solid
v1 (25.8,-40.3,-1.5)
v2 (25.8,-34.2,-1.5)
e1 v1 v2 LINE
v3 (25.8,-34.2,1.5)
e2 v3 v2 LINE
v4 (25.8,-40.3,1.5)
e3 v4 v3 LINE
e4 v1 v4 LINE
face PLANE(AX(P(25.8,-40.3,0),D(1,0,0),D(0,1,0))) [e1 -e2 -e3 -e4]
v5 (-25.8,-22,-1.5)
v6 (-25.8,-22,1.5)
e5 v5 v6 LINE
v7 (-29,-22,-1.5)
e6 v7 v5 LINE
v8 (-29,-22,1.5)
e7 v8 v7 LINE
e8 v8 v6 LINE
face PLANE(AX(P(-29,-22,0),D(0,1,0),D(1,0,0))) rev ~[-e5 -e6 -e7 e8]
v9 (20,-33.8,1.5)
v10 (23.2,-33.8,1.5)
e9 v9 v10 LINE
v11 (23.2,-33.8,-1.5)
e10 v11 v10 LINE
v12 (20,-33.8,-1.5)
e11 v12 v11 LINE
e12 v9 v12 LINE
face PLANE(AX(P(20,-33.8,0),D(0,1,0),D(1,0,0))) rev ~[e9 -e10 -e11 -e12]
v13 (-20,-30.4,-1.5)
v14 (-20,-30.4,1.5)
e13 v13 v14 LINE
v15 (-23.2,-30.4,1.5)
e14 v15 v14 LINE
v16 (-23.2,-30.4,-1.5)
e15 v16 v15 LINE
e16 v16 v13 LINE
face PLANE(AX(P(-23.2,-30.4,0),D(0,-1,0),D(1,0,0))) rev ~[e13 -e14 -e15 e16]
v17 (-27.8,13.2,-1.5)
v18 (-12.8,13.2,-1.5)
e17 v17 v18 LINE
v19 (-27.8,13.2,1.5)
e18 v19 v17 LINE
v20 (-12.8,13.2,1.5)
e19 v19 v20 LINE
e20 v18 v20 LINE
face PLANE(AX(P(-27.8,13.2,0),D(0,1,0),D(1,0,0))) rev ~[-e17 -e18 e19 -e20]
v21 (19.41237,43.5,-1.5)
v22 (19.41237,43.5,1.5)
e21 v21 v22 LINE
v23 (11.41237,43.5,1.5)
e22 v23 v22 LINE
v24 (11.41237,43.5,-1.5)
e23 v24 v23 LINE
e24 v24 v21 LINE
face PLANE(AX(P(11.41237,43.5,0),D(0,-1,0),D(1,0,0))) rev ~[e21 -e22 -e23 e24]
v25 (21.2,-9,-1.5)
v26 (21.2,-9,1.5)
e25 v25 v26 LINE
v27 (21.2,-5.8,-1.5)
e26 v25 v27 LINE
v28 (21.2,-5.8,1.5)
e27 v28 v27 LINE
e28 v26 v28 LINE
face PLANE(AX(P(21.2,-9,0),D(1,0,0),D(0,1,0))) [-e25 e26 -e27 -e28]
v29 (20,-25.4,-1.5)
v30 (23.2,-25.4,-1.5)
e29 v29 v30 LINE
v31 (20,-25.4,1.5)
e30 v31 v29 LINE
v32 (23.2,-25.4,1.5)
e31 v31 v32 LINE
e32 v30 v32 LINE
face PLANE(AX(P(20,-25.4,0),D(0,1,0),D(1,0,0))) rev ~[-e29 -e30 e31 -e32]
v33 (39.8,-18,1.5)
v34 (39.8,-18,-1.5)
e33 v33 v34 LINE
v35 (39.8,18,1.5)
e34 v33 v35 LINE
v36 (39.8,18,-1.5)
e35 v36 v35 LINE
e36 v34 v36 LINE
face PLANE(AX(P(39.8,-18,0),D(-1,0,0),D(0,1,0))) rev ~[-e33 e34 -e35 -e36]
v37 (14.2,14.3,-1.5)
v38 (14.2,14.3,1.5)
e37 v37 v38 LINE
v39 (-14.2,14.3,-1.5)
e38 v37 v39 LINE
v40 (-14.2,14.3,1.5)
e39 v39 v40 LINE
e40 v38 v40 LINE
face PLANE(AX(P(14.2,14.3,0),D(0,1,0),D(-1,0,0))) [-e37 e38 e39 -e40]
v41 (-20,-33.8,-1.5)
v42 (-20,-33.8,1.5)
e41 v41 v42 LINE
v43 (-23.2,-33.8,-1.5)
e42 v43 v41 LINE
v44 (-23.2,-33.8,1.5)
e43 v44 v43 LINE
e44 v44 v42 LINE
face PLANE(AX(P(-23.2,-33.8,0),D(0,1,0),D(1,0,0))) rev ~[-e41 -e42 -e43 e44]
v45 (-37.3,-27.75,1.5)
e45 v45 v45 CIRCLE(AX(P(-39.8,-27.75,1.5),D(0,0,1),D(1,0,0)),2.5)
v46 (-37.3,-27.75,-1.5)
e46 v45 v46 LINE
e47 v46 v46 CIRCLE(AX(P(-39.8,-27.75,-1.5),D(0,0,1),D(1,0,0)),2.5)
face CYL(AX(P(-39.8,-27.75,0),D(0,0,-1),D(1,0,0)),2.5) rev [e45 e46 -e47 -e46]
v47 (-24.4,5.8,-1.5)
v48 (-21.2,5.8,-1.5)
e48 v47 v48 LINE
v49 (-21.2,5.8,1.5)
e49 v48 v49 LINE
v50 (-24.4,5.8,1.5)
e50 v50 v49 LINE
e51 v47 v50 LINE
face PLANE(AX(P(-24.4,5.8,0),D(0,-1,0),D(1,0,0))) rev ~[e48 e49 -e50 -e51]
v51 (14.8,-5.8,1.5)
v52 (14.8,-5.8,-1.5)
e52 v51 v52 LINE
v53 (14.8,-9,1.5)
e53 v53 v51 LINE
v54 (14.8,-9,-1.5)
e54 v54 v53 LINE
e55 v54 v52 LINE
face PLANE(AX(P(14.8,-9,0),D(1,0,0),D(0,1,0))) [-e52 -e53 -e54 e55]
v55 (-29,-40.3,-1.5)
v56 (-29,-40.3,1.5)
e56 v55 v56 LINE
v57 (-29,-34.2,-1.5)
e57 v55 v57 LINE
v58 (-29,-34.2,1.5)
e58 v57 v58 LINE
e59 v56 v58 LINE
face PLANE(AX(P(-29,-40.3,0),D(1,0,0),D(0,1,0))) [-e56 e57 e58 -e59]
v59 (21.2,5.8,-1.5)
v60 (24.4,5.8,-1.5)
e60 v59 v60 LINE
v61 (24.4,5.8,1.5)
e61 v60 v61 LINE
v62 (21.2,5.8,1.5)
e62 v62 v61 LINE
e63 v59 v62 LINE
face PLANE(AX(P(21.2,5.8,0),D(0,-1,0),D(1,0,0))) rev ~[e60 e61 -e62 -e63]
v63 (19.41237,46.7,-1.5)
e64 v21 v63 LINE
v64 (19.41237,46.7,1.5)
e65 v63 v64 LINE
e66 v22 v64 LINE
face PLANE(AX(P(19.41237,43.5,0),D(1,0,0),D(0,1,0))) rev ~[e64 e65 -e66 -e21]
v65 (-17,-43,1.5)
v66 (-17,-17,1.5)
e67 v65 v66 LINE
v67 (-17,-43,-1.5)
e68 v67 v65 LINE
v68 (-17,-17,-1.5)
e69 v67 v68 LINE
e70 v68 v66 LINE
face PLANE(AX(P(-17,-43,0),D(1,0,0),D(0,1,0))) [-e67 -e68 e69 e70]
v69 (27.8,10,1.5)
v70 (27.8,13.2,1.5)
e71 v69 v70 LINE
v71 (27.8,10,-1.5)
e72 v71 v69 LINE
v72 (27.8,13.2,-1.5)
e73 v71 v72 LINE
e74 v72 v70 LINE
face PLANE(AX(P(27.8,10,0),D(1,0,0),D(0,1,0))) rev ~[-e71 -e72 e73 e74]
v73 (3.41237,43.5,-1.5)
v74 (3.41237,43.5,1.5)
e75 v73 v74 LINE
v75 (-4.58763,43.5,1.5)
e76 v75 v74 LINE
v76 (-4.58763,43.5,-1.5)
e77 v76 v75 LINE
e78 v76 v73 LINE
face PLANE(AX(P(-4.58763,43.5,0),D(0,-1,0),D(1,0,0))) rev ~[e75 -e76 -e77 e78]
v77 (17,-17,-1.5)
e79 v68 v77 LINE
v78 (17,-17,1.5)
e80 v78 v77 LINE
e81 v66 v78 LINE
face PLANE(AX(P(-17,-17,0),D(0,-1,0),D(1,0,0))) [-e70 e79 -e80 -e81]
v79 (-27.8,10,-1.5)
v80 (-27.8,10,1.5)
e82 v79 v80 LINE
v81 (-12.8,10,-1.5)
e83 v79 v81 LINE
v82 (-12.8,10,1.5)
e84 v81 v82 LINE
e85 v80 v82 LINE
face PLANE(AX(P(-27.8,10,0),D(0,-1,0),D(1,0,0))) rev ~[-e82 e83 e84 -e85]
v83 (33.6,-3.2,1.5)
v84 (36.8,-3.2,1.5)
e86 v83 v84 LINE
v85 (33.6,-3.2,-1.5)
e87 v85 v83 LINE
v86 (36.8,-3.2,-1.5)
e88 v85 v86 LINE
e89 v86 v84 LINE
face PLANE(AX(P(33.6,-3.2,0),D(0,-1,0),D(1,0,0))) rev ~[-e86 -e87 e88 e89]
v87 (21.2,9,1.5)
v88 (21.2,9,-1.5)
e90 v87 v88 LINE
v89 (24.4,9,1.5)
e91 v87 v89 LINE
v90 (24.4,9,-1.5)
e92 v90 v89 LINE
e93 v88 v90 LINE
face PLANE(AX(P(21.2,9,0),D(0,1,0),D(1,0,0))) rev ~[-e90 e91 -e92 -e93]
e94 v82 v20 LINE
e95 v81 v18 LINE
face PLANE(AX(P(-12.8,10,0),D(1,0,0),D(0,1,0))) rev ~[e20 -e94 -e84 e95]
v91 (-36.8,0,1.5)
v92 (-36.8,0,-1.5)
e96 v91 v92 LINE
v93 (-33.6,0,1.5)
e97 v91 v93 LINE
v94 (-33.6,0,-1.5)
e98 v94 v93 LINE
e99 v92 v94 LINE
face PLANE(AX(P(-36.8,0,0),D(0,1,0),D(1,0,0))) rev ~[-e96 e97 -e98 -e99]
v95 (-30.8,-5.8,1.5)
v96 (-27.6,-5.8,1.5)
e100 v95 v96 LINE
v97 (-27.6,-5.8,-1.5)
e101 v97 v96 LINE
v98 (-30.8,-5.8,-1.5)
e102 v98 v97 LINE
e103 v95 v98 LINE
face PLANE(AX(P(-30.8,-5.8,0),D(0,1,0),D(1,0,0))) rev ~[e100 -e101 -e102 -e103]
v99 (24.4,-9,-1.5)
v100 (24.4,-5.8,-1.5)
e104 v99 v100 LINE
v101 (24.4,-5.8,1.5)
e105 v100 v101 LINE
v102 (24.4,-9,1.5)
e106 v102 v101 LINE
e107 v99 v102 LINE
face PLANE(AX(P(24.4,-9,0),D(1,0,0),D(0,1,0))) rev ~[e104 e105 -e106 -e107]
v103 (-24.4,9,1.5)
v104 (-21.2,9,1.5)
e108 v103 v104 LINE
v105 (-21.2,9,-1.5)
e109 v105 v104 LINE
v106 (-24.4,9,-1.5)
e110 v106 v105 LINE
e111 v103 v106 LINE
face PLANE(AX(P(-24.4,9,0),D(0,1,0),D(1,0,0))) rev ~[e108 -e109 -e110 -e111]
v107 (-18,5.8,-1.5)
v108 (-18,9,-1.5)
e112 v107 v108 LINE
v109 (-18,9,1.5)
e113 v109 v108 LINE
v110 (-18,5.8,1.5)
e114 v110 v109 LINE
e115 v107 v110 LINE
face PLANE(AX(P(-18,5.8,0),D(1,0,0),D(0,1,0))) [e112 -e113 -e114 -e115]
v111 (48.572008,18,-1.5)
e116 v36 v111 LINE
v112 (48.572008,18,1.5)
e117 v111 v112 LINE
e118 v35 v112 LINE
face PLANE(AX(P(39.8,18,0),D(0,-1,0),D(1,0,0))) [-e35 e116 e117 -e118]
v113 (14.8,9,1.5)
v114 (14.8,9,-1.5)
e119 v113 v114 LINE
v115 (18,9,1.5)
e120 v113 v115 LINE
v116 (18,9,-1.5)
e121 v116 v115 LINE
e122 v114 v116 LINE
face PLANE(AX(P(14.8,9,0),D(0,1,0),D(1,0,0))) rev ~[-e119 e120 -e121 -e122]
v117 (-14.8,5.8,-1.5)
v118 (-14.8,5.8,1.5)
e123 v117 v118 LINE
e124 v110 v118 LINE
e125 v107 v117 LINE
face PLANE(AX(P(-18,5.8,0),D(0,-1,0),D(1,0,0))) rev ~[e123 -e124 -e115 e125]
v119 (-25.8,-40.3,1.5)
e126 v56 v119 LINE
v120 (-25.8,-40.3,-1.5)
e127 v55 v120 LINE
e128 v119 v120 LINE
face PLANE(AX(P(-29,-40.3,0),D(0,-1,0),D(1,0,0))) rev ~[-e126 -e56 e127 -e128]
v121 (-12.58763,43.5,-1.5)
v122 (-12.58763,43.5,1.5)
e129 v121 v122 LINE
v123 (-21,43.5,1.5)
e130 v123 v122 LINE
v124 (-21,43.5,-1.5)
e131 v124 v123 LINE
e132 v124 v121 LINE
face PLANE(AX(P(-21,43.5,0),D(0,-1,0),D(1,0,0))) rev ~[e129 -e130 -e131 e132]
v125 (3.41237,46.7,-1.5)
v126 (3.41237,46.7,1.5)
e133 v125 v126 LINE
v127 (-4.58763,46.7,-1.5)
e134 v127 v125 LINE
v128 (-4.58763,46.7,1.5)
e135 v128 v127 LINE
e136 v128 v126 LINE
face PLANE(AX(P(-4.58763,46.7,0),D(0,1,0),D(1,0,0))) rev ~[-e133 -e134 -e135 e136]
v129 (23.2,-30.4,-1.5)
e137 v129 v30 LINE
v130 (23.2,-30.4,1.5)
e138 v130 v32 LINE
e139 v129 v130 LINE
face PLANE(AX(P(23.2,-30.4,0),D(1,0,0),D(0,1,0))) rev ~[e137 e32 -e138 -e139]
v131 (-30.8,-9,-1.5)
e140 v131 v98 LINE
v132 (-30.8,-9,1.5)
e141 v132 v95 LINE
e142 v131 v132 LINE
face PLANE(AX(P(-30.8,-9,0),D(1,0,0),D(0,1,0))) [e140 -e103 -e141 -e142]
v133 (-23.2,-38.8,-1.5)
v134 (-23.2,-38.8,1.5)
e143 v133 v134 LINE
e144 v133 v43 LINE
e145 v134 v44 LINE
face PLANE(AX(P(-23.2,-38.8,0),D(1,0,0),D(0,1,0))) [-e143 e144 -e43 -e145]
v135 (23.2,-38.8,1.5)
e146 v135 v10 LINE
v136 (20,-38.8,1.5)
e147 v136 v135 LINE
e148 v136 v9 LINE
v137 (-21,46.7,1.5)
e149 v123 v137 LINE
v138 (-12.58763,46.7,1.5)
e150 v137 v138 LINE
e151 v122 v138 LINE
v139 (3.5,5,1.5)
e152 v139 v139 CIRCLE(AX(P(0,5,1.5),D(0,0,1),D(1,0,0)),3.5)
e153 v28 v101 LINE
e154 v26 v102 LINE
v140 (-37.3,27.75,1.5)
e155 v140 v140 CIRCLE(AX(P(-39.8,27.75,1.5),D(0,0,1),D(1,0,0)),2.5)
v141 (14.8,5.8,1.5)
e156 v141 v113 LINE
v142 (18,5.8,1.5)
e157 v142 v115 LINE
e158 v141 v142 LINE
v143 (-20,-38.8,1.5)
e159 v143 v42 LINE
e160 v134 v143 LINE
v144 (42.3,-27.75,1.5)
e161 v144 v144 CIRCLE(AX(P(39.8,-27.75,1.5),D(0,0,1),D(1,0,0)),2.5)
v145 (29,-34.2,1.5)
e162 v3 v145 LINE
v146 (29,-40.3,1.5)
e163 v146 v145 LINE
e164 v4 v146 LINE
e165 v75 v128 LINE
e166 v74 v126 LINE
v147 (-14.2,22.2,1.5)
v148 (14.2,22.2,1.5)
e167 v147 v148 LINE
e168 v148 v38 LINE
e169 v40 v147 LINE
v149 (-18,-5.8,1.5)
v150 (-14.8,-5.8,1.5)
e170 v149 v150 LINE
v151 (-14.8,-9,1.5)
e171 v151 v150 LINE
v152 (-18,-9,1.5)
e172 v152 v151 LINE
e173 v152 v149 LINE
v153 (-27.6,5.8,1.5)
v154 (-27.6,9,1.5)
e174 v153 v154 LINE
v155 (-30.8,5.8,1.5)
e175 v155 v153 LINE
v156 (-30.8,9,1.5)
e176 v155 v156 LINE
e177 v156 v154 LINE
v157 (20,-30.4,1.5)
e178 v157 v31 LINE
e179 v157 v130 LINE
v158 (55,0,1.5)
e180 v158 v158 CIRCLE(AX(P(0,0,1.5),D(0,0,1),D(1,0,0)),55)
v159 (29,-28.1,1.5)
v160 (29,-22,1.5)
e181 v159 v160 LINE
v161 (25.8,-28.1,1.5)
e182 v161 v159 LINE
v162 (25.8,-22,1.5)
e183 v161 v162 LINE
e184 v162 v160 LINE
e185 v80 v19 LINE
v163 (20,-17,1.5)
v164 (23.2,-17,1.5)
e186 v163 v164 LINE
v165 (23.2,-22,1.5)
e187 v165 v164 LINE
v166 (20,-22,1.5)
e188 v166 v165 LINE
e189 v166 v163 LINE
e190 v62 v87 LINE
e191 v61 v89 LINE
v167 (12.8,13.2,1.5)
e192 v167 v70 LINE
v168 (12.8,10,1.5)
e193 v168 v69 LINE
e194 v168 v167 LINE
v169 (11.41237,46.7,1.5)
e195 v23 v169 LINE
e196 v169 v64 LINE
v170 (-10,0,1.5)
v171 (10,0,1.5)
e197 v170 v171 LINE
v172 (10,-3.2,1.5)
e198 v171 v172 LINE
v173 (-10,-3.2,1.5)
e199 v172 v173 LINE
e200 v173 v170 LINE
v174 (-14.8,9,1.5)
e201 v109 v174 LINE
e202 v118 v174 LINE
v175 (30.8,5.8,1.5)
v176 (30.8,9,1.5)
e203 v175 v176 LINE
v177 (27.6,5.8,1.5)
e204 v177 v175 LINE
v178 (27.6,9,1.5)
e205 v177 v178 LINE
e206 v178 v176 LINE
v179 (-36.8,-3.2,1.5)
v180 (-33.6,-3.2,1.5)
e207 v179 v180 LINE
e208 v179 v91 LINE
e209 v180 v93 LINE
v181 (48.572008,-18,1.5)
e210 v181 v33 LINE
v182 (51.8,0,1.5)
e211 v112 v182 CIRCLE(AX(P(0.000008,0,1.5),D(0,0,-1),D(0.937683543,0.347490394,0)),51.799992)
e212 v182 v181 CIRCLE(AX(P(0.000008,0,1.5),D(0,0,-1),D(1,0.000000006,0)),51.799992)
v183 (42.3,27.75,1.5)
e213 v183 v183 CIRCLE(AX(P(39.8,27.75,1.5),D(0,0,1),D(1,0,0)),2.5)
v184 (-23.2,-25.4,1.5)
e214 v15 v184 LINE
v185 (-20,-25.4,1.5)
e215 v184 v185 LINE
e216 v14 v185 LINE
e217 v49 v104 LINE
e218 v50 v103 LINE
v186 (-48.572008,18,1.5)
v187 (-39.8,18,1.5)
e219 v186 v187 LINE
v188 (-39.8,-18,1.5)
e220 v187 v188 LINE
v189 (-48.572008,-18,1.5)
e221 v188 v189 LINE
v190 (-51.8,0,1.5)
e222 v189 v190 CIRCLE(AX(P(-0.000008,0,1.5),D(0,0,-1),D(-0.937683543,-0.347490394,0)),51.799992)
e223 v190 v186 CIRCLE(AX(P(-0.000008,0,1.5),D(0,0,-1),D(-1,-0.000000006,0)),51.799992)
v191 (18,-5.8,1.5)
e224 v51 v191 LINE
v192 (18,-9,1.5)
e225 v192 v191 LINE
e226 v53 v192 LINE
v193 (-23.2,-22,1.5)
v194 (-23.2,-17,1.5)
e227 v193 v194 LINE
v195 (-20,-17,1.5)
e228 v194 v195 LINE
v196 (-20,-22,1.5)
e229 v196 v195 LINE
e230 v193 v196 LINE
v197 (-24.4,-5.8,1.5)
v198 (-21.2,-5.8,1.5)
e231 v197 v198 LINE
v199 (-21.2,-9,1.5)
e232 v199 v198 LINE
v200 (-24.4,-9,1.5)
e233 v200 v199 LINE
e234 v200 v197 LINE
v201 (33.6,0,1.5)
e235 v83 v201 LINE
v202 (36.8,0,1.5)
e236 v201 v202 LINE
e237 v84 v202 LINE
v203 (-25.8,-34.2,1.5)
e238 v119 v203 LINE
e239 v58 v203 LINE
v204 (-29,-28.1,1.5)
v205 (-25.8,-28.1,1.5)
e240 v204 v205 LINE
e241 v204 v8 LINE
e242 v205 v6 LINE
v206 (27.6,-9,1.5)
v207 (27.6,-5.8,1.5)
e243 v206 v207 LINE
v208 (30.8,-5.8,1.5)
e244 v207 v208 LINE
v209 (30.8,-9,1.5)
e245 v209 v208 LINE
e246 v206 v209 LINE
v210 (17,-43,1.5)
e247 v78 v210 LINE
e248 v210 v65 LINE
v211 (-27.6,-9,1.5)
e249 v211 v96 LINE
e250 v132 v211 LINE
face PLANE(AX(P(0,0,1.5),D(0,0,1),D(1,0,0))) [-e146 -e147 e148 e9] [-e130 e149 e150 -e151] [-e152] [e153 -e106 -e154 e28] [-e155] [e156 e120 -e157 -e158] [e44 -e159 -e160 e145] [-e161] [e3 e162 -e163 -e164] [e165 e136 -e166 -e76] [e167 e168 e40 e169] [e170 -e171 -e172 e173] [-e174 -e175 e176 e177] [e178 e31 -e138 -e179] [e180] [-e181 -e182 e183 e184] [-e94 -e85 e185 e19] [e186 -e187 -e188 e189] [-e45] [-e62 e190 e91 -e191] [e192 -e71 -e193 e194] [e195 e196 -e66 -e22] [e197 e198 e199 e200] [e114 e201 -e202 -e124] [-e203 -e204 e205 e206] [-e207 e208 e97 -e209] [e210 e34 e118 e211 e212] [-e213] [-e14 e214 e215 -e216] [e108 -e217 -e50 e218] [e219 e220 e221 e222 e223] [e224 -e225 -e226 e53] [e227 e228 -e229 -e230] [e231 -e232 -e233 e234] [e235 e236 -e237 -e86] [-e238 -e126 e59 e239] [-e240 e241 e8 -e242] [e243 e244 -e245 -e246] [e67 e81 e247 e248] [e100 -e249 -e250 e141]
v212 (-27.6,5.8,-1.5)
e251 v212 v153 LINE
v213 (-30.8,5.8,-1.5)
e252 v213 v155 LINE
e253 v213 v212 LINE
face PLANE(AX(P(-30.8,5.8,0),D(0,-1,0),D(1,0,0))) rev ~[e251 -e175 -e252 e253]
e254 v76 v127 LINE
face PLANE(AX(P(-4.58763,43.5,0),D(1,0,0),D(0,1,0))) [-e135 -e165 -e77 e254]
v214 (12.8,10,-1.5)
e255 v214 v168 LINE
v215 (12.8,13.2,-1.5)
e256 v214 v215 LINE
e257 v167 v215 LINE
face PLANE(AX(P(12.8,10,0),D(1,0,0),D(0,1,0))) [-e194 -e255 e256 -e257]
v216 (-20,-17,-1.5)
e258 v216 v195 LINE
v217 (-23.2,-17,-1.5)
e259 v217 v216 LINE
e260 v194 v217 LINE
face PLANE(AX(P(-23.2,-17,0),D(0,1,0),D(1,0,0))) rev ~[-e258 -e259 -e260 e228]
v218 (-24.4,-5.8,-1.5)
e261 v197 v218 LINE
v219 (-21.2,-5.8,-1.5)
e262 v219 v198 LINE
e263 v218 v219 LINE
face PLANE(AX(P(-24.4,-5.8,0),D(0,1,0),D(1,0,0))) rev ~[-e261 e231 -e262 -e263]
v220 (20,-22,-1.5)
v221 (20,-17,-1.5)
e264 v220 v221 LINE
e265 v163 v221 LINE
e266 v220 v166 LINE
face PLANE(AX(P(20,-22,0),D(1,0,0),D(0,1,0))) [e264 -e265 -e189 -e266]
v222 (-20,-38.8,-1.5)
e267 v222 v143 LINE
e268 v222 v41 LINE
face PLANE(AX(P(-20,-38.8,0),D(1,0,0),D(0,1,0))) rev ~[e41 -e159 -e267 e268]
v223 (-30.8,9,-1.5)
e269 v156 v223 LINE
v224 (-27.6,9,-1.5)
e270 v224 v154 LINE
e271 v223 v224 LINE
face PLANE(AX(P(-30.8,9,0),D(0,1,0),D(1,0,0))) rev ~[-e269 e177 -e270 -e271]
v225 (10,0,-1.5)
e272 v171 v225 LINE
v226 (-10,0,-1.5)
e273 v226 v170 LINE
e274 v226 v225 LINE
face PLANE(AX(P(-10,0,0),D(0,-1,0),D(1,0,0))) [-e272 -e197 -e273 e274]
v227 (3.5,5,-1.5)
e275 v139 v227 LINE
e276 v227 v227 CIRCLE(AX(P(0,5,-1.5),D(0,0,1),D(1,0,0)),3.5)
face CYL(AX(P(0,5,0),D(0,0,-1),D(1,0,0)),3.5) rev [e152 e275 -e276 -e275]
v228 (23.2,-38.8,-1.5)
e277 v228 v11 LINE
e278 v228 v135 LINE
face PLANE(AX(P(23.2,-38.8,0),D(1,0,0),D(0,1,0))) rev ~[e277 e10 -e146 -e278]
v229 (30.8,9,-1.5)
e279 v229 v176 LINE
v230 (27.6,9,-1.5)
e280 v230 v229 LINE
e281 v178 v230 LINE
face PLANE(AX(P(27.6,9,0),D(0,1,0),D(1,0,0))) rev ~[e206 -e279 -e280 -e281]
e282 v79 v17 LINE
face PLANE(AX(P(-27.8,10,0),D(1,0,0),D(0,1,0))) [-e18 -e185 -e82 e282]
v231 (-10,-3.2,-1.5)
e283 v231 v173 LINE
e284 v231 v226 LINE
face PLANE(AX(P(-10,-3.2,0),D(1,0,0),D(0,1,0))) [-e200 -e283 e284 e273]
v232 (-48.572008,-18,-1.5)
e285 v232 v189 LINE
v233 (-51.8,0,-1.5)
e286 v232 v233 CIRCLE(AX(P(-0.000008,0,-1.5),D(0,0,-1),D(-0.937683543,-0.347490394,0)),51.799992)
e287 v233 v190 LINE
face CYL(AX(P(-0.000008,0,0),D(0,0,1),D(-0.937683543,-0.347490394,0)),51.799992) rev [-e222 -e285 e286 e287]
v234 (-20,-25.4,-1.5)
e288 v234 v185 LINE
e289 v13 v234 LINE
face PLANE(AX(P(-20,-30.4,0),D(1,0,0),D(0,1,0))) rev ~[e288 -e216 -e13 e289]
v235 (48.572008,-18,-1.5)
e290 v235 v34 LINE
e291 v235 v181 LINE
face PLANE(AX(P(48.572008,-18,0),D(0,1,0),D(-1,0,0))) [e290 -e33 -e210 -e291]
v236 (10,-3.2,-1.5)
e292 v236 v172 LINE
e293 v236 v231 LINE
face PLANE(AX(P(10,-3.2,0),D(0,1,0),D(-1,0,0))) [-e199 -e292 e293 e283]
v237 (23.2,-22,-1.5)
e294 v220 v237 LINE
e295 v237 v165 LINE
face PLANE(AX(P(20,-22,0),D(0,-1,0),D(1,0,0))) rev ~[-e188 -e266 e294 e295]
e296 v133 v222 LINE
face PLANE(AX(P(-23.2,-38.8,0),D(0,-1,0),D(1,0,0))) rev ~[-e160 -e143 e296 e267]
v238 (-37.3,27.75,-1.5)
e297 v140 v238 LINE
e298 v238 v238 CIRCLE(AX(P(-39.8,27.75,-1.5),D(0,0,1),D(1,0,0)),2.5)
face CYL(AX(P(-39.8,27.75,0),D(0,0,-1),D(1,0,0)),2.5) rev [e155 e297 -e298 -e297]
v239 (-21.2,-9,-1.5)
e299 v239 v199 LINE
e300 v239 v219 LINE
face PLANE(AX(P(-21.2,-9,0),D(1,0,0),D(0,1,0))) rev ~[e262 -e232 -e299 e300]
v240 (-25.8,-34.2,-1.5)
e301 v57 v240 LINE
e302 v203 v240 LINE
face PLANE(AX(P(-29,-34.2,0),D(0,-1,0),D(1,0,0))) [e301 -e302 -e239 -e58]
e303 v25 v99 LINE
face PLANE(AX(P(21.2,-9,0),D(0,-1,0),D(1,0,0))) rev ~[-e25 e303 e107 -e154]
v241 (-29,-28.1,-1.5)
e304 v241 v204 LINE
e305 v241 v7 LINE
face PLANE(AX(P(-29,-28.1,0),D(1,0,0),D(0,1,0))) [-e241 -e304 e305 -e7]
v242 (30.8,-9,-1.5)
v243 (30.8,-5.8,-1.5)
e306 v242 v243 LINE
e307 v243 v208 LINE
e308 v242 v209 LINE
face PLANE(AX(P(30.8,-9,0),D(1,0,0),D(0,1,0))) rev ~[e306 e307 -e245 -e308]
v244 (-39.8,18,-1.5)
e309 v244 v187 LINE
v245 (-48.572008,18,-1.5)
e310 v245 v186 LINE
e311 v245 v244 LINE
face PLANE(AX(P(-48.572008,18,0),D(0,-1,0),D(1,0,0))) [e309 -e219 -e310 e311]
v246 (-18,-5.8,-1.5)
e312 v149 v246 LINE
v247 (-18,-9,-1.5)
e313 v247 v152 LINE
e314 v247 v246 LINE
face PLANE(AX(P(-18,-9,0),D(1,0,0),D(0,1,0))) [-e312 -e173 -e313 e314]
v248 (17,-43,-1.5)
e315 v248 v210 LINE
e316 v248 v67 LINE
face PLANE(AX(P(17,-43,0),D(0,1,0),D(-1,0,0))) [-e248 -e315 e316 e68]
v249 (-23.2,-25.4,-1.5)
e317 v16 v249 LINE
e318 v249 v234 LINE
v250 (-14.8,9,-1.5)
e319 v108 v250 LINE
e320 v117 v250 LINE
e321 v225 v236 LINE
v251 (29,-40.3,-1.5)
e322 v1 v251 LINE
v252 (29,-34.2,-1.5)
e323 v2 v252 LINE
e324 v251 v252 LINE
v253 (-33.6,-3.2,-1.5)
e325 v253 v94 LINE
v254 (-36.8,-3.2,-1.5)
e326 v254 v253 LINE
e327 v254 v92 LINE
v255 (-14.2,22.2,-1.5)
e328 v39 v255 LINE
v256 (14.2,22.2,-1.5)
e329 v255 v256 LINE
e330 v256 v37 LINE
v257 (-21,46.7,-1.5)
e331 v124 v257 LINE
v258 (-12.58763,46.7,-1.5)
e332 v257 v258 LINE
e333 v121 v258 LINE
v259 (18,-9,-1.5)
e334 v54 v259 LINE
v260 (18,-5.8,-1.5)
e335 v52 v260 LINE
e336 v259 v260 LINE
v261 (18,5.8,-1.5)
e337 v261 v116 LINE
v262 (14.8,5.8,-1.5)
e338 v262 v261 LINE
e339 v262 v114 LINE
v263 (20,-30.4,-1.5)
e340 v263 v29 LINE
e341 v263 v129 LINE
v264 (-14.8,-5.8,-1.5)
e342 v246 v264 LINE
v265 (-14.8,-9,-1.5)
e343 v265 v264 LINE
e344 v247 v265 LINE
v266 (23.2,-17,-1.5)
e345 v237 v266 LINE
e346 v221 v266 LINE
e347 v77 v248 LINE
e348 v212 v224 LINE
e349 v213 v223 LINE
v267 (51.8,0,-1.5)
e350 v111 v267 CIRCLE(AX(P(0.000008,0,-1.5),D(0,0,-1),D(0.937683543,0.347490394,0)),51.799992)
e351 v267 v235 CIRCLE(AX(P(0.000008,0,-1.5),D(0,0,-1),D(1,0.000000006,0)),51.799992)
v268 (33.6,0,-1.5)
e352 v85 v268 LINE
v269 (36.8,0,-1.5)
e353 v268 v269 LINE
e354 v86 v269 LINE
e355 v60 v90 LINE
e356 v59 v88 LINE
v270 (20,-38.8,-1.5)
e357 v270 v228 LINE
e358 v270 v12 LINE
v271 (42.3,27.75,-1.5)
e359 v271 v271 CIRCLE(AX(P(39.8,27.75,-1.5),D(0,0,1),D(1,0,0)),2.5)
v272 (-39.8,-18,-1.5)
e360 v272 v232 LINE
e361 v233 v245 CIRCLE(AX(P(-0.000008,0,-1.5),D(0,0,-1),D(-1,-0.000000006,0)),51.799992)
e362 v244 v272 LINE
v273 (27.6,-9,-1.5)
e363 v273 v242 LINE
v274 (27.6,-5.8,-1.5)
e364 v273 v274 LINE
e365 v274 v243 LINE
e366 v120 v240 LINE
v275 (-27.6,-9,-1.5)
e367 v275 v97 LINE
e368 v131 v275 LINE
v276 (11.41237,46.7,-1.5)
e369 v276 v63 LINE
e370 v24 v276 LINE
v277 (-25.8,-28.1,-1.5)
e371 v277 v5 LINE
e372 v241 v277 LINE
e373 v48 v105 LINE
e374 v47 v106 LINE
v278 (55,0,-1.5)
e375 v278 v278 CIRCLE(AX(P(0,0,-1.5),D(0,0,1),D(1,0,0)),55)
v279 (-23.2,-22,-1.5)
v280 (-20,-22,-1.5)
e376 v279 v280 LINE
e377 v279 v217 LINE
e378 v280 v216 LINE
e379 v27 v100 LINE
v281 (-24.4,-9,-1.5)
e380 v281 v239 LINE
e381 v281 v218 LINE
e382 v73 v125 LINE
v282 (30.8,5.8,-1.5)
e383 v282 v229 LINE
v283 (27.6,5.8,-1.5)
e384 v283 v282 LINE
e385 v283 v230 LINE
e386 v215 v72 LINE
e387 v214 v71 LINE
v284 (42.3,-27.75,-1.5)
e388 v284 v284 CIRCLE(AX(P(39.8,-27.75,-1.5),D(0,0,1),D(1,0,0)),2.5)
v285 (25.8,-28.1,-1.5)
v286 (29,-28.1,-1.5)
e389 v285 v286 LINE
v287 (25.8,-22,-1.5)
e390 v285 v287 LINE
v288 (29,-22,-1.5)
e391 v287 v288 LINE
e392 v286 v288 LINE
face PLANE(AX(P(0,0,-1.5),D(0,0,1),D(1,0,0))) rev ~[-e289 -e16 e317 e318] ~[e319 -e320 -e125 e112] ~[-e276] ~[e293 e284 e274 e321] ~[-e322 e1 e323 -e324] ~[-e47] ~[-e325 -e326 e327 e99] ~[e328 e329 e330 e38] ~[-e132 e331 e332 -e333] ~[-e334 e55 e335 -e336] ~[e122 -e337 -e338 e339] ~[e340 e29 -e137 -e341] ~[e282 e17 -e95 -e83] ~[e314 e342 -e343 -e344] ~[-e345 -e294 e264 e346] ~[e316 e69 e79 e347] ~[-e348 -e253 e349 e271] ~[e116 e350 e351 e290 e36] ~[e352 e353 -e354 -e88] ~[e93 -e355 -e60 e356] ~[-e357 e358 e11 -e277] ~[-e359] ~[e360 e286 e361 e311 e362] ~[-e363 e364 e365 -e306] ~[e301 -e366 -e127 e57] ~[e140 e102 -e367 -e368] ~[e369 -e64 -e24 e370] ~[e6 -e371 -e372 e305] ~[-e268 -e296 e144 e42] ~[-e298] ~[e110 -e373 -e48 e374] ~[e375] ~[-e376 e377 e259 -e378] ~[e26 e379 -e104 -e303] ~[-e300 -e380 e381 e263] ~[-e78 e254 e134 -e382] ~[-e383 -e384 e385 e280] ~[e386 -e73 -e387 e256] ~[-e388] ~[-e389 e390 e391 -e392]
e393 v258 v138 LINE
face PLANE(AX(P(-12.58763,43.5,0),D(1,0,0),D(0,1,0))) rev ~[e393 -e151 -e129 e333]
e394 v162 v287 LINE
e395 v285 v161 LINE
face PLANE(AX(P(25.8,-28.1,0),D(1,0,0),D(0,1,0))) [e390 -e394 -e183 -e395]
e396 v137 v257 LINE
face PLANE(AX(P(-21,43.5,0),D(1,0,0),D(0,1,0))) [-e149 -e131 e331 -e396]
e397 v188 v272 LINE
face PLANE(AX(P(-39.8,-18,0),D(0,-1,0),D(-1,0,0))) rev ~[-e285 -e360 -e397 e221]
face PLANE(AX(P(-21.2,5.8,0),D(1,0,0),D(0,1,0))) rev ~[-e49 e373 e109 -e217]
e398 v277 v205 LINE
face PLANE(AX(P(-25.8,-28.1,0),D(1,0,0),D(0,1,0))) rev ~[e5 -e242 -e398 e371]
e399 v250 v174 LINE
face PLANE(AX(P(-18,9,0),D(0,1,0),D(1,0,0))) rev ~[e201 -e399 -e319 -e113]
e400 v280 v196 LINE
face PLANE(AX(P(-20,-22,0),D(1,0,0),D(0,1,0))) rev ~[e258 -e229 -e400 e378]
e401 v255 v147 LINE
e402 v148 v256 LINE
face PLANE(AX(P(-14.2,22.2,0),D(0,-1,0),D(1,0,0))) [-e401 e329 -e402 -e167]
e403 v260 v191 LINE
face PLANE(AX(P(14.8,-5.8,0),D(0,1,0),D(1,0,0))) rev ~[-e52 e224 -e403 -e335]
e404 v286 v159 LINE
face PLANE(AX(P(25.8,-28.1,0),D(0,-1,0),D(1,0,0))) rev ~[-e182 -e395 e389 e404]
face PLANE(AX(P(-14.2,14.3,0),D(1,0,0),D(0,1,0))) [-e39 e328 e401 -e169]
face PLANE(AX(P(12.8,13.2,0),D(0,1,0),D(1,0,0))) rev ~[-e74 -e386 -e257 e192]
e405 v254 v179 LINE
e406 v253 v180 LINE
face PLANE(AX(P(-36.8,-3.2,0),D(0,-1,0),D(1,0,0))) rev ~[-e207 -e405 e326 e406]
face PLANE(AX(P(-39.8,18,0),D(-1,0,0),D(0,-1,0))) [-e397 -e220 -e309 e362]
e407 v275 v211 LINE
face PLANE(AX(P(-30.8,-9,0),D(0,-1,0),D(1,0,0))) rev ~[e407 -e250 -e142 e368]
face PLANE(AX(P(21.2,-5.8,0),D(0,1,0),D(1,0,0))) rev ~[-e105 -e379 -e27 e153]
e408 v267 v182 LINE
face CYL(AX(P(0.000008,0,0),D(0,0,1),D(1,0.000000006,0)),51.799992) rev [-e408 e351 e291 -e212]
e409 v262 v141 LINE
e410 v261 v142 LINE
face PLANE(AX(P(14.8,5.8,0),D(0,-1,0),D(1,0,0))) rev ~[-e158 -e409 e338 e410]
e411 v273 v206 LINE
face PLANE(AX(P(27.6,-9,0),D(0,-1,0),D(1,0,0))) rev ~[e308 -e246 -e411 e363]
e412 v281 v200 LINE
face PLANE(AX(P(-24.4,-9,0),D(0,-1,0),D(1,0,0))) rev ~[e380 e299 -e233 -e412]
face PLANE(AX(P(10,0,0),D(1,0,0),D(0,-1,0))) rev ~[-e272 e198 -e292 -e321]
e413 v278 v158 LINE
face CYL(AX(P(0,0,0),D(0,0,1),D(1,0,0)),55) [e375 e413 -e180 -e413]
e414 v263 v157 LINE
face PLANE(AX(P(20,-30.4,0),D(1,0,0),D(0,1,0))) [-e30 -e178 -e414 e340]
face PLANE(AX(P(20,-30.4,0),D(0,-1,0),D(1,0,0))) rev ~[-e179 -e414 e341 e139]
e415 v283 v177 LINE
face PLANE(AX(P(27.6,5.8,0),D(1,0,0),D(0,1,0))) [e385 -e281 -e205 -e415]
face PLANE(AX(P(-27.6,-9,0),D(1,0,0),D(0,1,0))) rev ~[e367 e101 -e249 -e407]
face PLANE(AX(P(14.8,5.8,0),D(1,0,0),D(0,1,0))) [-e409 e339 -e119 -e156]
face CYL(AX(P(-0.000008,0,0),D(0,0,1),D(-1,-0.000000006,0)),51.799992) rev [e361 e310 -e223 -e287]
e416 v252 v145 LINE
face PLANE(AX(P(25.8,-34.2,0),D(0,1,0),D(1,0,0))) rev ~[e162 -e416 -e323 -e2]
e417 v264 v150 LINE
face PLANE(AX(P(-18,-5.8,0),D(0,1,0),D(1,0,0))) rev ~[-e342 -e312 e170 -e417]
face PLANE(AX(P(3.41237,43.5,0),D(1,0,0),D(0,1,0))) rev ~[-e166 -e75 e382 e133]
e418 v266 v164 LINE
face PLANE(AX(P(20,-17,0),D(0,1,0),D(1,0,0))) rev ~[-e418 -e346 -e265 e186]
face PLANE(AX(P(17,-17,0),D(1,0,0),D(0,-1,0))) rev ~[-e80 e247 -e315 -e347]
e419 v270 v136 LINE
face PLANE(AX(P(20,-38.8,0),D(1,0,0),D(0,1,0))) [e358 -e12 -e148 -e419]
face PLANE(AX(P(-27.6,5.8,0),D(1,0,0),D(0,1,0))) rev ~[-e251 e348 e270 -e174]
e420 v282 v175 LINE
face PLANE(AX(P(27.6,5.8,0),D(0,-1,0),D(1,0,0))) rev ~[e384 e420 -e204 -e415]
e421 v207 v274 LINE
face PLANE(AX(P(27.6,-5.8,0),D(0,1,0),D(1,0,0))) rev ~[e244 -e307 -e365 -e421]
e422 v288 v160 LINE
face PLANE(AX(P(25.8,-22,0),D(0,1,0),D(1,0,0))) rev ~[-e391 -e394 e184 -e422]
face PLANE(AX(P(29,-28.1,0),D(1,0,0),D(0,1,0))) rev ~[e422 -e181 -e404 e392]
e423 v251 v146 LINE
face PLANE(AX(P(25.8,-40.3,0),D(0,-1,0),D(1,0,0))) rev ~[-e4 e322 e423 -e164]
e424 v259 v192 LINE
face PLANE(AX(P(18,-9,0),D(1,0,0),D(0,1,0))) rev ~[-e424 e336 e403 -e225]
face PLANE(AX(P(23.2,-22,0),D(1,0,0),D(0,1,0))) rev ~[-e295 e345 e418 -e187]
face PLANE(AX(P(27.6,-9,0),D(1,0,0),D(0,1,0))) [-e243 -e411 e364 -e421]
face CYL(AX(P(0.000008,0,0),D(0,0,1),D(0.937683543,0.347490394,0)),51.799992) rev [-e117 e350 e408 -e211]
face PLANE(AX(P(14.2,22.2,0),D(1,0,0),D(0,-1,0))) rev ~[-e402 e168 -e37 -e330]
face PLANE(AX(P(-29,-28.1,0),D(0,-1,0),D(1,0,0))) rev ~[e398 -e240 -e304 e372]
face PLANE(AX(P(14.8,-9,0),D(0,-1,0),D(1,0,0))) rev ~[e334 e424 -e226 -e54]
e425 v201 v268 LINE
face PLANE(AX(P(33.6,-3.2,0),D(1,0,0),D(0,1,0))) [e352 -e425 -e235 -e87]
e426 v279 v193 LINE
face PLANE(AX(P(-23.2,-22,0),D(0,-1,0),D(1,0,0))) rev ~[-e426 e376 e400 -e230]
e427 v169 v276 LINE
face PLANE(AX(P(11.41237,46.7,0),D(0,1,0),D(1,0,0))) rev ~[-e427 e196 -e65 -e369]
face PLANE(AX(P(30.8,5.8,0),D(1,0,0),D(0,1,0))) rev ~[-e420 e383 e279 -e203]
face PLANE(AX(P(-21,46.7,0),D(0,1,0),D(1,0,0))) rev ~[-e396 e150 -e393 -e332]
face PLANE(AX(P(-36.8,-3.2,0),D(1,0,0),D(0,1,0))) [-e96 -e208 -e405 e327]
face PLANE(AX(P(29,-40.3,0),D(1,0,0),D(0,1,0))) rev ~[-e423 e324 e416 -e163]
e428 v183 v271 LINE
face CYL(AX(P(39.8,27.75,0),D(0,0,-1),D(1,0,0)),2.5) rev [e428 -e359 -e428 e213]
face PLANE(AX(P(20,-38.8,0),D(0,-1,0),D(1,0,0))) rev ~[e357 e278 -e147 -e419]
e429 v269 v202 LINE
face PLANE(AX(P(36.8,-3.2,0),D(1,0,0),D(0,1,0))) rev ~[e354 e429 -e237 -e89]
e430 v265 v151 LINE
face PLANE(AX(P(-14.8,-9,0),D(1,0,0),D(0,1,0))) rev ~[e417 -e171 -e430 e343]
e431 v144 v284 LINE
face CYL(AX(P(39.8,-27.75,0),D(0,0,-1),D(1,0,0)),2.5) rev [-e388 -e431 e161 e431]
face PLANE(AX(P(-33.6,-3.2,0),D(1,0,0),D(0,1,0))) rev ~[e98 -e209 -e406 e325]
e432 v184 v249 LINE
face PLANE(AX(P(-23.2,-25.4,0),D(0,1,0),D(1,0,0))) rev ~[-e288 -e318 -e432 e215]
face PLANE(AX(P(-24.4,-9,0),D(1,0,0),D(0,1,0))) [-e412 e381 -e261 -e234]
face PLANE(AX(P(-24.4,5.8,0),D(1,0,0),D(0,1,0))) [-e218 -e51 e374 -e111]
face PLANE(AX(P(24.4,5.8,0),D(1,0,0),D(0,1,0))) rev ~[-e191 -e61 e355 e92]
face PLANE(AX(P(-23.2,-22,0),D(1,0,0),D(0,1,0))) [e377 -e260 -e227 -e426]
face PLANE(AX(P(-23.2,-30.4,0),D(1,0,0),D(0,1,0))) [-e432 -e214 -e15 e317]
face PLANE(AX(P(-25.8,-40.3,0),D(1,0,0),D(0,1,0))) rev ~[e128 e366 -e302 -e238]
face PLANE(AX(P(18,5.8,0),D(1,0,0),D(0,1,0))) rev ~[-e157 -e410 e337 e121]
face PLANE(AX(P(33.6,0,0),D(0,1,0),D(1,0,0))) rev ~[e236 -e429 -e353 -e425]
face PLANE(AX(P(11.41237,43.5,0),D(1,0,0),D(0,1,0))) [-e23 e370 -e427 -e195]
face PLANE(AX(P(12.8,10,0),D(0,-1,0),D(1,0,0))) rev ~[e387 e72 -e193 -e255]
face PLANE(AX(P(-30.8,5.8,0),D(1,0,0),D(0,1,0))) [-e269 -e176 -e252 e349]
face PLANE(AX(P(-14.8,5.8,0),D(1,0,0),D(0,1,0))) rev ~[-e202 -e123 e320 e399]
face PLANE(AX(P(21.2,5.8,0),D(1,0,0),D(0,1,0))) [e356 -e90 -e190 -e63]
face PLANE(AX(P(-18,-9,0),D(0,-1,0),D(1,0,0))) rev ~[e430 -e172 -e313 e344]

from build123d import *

# Parameters (mm, degrees)
F0_R     = 55
F0_R_2   = 2.5
F0_W     = 3.2
F0_H     = 6.1
F0_H_2   = 5
F0_H_3   = 3.2
F0_W_2   = 15
F0_W_3   = 8.41237
F0_W_4   = 8
F0_R_3   = 3.5
F1_DEPTH = 1.5


with BuildPart() as f1:
    # F0 (on Top) → F1 (new body, symmetric)
    with BuildSketch(Plane.XY):
        Circle(F0_R)
        with Locations((-39.8, -27.75)):
            Circle(F0_R_2, mode=Mode.SUBTRACT)
        with Locations((-27.4, -37.25)):
            Rectangle(F0_W, F0_H, mode=Mode.SUBTRACT)
        with Locations((-21.6, -36.3)):
            Rectangle(F0_W, F0_H_2, mode=Mode.SUBTRACT)
        with Locations((-21.6, -27.9)):
            Rectangle(F0_W, F0_H_2, mode=Mode.SUBTRACT)
        with Locations((-29.2, -7.4)):
            Rectangle(F0_W, F0_H_3, mode=Mode.SUBTRACT)
        with Locations((-35.2, -1.6)):
            Rectangle(F0_W, F0_H_3, mode=Mode.SUBTRACT)
        with Locations((-27.4, -25.05)):
            Rectangle(F0_W, F0_H, mode=Mode.SUBTRACT)
        with Locations((-21.6, -19.5)):
            Rectangle(F0_W, F0_H_2, mode=Mode.SUBTRACT)
        with Locations((-22.8, -7.4)):
            Rectangle(F0_W, F0_H_3, mode=Mode.SUBTRACT)
        with Locations((-16.4, -7.4)):
            Rectangle(F0_W, F0_H_3, mode=Mode.SUBTRACT)
        Polygon((-17, -17), (0, -17), (17, -17), (17, -43), (-17, -43), align=None, mode=Mode.SUBTRACT)
        with Locations((21.6, -36.3)):
            Rectangle(F0_W, F0_H_2, mode=Mode.SUBTRACT)
        with Locations((27.4, -37.25)):
            Rectangle(F0_W, F0_H, mode=Mode.SUBTRACT)
        with Locations((21.6, -27.9)):
            Rectangle(F0_W, F0_H_2, mode=Mode.SUBTRACT)
        with Locations((39.8, -27.75)):
            Circle(F0_R_2, mode=Mode.SUBTRACT)
        with Locations((27.4, -25.05)):
            Rectangle(F0_W, F0_H, mode=Mode.SUBTRACT)
        with Locations((21.6, -19.5)):
            Rectangle(F0_W, F0_H_2, mode=Mode.SUBTRACT)
        Polygon((-10, 0), (0, 0), (10, 0), (10, -3.2), (-10, -3.2), align=None, mode=Mode.SUBTRACT)
        with Locations((16.4, -7.4)):
            Rectangle(F0_W, F0_H_3, mode=Mode.SUBTRACT)
        with Locations((22.8, -7.4)):
            Rectangle(F0_W, F0_H_3, mode=Mode.SUBTRACT)
        with Locations((29.2, -7.4)):
            Rectangle(F0_W, F0_H_3, mode=Mode.SUBTRACT)
        with Locations((35.2, -1.6)):
            Rectangle(F0_W, F0_H_3, mode=Mode.SUBTRACT)
        with BuildLine():
            Line((-44.8, 18), (-39.8, 18))
            Line((-39.8, 18), (-39.8, -18))
            Line((-39.8, -18), (-44.8, -18))
            Line((-44.8, -18), (-48.572008, -18))
            ThreePointArc((-48.572008, -18), (-50.986616, -9.143576), (-51.8, 0))
            ThreePointArc((-51.8, 0), (-50.986616, 9.143576), (-48.572008, 18))
            Line((-48.572008, 18), (-44.8, 18))
        make_face(mode=Mode.SUBTRACT)
        with Locations((-29.2, 7.4)):
            Rectangle(F0_W, F0_H_3, mode=Mode.SUBTRACT)
        with Locations((-22.8, 7.4)):
            Rectangle(F0_W, F0_H_3, mode=Mode.SUBTRACT)
        with Locations((-16.4, 7.4)):
            Rectangle(F0_W, F0_H_3, mode=Mode.SUBTRACT)
        with Locations((-20.3, 11.6)):
            Rectangle(F0_W_2, F0_H_3, mode=Mode.SUBTRACT)
        with Locations((-39.8, 27.75)):
            Circle(F0_R_2, mode=Mode.SUBTRACT)
        with Locations((-16.793815, 45.1)):
            Rectangle(F0_W_3, F0_H_3, mode=Mode.SUBTRACT)
        with Locations((-0.58763, 45.1)):
            Rectangle(F0_W_4, F0_H_3, mode=Mode.SUBTRACT)
        with Locations((0, 5)):
            Circle(F0_R_3, mode=Mode.SUBTRACT)
        with Locations((16.4, 7.4)):
            Rectangle(F0_W, F0_H_3, mode=Mode.SUBTRACT)
        with Locations((20.3, 11.6)):
            Rectangle(F0_W_2, F0_H_3, mode=Mode.SUBTRACT)
        with Locations((22.8, 7.4)):
            Rectangle(F0_W, F0_H_3, mode=Mode.SUBTRACT)
        Polygon((-14.2, 22.2), (14.2, 22.2), (14.2, 15.2), (14.2, 14.3), (-14.2, 14.3), (-14.2, 15.2), align=None, mode=Mode.SUBTRACT)
        with Locations((29.2, 7.4)):
            Rectangle(F0_W, F0_H_3, mode=Mode.SUBTRACT)
        with BuildLine():
            Line((48.572008, -18), (44.8, -18))
            Line((44.8, -18), (39.8, -18))
            Line((39.8, -18), (39.8, 18))
            Line((39.8, 18), (44.8, 18))
            Line((44.8, 18), (48.572008, 18))
            ThreePointArc((48.572008, 18), (50.986616, 9.143576), (51.8, 0))
            ThreePointArc((51.8, 0), (50.986616, -9.143576), (48.572008, -18))
        make_face(mode=Mode.SUBTRACT)
        with Locations((15.41237, 45.1)):
            Rectangle(F0_W_4, F0_H_3, mode=Mode.SUBTRACT)
        with Locations((39.8, 27.75)):
            Circle(F0_R_2, mode=Mode.SUBTRACT)
    extrude(amount=F1_DEPTH, both=True)


solid = f1.part
